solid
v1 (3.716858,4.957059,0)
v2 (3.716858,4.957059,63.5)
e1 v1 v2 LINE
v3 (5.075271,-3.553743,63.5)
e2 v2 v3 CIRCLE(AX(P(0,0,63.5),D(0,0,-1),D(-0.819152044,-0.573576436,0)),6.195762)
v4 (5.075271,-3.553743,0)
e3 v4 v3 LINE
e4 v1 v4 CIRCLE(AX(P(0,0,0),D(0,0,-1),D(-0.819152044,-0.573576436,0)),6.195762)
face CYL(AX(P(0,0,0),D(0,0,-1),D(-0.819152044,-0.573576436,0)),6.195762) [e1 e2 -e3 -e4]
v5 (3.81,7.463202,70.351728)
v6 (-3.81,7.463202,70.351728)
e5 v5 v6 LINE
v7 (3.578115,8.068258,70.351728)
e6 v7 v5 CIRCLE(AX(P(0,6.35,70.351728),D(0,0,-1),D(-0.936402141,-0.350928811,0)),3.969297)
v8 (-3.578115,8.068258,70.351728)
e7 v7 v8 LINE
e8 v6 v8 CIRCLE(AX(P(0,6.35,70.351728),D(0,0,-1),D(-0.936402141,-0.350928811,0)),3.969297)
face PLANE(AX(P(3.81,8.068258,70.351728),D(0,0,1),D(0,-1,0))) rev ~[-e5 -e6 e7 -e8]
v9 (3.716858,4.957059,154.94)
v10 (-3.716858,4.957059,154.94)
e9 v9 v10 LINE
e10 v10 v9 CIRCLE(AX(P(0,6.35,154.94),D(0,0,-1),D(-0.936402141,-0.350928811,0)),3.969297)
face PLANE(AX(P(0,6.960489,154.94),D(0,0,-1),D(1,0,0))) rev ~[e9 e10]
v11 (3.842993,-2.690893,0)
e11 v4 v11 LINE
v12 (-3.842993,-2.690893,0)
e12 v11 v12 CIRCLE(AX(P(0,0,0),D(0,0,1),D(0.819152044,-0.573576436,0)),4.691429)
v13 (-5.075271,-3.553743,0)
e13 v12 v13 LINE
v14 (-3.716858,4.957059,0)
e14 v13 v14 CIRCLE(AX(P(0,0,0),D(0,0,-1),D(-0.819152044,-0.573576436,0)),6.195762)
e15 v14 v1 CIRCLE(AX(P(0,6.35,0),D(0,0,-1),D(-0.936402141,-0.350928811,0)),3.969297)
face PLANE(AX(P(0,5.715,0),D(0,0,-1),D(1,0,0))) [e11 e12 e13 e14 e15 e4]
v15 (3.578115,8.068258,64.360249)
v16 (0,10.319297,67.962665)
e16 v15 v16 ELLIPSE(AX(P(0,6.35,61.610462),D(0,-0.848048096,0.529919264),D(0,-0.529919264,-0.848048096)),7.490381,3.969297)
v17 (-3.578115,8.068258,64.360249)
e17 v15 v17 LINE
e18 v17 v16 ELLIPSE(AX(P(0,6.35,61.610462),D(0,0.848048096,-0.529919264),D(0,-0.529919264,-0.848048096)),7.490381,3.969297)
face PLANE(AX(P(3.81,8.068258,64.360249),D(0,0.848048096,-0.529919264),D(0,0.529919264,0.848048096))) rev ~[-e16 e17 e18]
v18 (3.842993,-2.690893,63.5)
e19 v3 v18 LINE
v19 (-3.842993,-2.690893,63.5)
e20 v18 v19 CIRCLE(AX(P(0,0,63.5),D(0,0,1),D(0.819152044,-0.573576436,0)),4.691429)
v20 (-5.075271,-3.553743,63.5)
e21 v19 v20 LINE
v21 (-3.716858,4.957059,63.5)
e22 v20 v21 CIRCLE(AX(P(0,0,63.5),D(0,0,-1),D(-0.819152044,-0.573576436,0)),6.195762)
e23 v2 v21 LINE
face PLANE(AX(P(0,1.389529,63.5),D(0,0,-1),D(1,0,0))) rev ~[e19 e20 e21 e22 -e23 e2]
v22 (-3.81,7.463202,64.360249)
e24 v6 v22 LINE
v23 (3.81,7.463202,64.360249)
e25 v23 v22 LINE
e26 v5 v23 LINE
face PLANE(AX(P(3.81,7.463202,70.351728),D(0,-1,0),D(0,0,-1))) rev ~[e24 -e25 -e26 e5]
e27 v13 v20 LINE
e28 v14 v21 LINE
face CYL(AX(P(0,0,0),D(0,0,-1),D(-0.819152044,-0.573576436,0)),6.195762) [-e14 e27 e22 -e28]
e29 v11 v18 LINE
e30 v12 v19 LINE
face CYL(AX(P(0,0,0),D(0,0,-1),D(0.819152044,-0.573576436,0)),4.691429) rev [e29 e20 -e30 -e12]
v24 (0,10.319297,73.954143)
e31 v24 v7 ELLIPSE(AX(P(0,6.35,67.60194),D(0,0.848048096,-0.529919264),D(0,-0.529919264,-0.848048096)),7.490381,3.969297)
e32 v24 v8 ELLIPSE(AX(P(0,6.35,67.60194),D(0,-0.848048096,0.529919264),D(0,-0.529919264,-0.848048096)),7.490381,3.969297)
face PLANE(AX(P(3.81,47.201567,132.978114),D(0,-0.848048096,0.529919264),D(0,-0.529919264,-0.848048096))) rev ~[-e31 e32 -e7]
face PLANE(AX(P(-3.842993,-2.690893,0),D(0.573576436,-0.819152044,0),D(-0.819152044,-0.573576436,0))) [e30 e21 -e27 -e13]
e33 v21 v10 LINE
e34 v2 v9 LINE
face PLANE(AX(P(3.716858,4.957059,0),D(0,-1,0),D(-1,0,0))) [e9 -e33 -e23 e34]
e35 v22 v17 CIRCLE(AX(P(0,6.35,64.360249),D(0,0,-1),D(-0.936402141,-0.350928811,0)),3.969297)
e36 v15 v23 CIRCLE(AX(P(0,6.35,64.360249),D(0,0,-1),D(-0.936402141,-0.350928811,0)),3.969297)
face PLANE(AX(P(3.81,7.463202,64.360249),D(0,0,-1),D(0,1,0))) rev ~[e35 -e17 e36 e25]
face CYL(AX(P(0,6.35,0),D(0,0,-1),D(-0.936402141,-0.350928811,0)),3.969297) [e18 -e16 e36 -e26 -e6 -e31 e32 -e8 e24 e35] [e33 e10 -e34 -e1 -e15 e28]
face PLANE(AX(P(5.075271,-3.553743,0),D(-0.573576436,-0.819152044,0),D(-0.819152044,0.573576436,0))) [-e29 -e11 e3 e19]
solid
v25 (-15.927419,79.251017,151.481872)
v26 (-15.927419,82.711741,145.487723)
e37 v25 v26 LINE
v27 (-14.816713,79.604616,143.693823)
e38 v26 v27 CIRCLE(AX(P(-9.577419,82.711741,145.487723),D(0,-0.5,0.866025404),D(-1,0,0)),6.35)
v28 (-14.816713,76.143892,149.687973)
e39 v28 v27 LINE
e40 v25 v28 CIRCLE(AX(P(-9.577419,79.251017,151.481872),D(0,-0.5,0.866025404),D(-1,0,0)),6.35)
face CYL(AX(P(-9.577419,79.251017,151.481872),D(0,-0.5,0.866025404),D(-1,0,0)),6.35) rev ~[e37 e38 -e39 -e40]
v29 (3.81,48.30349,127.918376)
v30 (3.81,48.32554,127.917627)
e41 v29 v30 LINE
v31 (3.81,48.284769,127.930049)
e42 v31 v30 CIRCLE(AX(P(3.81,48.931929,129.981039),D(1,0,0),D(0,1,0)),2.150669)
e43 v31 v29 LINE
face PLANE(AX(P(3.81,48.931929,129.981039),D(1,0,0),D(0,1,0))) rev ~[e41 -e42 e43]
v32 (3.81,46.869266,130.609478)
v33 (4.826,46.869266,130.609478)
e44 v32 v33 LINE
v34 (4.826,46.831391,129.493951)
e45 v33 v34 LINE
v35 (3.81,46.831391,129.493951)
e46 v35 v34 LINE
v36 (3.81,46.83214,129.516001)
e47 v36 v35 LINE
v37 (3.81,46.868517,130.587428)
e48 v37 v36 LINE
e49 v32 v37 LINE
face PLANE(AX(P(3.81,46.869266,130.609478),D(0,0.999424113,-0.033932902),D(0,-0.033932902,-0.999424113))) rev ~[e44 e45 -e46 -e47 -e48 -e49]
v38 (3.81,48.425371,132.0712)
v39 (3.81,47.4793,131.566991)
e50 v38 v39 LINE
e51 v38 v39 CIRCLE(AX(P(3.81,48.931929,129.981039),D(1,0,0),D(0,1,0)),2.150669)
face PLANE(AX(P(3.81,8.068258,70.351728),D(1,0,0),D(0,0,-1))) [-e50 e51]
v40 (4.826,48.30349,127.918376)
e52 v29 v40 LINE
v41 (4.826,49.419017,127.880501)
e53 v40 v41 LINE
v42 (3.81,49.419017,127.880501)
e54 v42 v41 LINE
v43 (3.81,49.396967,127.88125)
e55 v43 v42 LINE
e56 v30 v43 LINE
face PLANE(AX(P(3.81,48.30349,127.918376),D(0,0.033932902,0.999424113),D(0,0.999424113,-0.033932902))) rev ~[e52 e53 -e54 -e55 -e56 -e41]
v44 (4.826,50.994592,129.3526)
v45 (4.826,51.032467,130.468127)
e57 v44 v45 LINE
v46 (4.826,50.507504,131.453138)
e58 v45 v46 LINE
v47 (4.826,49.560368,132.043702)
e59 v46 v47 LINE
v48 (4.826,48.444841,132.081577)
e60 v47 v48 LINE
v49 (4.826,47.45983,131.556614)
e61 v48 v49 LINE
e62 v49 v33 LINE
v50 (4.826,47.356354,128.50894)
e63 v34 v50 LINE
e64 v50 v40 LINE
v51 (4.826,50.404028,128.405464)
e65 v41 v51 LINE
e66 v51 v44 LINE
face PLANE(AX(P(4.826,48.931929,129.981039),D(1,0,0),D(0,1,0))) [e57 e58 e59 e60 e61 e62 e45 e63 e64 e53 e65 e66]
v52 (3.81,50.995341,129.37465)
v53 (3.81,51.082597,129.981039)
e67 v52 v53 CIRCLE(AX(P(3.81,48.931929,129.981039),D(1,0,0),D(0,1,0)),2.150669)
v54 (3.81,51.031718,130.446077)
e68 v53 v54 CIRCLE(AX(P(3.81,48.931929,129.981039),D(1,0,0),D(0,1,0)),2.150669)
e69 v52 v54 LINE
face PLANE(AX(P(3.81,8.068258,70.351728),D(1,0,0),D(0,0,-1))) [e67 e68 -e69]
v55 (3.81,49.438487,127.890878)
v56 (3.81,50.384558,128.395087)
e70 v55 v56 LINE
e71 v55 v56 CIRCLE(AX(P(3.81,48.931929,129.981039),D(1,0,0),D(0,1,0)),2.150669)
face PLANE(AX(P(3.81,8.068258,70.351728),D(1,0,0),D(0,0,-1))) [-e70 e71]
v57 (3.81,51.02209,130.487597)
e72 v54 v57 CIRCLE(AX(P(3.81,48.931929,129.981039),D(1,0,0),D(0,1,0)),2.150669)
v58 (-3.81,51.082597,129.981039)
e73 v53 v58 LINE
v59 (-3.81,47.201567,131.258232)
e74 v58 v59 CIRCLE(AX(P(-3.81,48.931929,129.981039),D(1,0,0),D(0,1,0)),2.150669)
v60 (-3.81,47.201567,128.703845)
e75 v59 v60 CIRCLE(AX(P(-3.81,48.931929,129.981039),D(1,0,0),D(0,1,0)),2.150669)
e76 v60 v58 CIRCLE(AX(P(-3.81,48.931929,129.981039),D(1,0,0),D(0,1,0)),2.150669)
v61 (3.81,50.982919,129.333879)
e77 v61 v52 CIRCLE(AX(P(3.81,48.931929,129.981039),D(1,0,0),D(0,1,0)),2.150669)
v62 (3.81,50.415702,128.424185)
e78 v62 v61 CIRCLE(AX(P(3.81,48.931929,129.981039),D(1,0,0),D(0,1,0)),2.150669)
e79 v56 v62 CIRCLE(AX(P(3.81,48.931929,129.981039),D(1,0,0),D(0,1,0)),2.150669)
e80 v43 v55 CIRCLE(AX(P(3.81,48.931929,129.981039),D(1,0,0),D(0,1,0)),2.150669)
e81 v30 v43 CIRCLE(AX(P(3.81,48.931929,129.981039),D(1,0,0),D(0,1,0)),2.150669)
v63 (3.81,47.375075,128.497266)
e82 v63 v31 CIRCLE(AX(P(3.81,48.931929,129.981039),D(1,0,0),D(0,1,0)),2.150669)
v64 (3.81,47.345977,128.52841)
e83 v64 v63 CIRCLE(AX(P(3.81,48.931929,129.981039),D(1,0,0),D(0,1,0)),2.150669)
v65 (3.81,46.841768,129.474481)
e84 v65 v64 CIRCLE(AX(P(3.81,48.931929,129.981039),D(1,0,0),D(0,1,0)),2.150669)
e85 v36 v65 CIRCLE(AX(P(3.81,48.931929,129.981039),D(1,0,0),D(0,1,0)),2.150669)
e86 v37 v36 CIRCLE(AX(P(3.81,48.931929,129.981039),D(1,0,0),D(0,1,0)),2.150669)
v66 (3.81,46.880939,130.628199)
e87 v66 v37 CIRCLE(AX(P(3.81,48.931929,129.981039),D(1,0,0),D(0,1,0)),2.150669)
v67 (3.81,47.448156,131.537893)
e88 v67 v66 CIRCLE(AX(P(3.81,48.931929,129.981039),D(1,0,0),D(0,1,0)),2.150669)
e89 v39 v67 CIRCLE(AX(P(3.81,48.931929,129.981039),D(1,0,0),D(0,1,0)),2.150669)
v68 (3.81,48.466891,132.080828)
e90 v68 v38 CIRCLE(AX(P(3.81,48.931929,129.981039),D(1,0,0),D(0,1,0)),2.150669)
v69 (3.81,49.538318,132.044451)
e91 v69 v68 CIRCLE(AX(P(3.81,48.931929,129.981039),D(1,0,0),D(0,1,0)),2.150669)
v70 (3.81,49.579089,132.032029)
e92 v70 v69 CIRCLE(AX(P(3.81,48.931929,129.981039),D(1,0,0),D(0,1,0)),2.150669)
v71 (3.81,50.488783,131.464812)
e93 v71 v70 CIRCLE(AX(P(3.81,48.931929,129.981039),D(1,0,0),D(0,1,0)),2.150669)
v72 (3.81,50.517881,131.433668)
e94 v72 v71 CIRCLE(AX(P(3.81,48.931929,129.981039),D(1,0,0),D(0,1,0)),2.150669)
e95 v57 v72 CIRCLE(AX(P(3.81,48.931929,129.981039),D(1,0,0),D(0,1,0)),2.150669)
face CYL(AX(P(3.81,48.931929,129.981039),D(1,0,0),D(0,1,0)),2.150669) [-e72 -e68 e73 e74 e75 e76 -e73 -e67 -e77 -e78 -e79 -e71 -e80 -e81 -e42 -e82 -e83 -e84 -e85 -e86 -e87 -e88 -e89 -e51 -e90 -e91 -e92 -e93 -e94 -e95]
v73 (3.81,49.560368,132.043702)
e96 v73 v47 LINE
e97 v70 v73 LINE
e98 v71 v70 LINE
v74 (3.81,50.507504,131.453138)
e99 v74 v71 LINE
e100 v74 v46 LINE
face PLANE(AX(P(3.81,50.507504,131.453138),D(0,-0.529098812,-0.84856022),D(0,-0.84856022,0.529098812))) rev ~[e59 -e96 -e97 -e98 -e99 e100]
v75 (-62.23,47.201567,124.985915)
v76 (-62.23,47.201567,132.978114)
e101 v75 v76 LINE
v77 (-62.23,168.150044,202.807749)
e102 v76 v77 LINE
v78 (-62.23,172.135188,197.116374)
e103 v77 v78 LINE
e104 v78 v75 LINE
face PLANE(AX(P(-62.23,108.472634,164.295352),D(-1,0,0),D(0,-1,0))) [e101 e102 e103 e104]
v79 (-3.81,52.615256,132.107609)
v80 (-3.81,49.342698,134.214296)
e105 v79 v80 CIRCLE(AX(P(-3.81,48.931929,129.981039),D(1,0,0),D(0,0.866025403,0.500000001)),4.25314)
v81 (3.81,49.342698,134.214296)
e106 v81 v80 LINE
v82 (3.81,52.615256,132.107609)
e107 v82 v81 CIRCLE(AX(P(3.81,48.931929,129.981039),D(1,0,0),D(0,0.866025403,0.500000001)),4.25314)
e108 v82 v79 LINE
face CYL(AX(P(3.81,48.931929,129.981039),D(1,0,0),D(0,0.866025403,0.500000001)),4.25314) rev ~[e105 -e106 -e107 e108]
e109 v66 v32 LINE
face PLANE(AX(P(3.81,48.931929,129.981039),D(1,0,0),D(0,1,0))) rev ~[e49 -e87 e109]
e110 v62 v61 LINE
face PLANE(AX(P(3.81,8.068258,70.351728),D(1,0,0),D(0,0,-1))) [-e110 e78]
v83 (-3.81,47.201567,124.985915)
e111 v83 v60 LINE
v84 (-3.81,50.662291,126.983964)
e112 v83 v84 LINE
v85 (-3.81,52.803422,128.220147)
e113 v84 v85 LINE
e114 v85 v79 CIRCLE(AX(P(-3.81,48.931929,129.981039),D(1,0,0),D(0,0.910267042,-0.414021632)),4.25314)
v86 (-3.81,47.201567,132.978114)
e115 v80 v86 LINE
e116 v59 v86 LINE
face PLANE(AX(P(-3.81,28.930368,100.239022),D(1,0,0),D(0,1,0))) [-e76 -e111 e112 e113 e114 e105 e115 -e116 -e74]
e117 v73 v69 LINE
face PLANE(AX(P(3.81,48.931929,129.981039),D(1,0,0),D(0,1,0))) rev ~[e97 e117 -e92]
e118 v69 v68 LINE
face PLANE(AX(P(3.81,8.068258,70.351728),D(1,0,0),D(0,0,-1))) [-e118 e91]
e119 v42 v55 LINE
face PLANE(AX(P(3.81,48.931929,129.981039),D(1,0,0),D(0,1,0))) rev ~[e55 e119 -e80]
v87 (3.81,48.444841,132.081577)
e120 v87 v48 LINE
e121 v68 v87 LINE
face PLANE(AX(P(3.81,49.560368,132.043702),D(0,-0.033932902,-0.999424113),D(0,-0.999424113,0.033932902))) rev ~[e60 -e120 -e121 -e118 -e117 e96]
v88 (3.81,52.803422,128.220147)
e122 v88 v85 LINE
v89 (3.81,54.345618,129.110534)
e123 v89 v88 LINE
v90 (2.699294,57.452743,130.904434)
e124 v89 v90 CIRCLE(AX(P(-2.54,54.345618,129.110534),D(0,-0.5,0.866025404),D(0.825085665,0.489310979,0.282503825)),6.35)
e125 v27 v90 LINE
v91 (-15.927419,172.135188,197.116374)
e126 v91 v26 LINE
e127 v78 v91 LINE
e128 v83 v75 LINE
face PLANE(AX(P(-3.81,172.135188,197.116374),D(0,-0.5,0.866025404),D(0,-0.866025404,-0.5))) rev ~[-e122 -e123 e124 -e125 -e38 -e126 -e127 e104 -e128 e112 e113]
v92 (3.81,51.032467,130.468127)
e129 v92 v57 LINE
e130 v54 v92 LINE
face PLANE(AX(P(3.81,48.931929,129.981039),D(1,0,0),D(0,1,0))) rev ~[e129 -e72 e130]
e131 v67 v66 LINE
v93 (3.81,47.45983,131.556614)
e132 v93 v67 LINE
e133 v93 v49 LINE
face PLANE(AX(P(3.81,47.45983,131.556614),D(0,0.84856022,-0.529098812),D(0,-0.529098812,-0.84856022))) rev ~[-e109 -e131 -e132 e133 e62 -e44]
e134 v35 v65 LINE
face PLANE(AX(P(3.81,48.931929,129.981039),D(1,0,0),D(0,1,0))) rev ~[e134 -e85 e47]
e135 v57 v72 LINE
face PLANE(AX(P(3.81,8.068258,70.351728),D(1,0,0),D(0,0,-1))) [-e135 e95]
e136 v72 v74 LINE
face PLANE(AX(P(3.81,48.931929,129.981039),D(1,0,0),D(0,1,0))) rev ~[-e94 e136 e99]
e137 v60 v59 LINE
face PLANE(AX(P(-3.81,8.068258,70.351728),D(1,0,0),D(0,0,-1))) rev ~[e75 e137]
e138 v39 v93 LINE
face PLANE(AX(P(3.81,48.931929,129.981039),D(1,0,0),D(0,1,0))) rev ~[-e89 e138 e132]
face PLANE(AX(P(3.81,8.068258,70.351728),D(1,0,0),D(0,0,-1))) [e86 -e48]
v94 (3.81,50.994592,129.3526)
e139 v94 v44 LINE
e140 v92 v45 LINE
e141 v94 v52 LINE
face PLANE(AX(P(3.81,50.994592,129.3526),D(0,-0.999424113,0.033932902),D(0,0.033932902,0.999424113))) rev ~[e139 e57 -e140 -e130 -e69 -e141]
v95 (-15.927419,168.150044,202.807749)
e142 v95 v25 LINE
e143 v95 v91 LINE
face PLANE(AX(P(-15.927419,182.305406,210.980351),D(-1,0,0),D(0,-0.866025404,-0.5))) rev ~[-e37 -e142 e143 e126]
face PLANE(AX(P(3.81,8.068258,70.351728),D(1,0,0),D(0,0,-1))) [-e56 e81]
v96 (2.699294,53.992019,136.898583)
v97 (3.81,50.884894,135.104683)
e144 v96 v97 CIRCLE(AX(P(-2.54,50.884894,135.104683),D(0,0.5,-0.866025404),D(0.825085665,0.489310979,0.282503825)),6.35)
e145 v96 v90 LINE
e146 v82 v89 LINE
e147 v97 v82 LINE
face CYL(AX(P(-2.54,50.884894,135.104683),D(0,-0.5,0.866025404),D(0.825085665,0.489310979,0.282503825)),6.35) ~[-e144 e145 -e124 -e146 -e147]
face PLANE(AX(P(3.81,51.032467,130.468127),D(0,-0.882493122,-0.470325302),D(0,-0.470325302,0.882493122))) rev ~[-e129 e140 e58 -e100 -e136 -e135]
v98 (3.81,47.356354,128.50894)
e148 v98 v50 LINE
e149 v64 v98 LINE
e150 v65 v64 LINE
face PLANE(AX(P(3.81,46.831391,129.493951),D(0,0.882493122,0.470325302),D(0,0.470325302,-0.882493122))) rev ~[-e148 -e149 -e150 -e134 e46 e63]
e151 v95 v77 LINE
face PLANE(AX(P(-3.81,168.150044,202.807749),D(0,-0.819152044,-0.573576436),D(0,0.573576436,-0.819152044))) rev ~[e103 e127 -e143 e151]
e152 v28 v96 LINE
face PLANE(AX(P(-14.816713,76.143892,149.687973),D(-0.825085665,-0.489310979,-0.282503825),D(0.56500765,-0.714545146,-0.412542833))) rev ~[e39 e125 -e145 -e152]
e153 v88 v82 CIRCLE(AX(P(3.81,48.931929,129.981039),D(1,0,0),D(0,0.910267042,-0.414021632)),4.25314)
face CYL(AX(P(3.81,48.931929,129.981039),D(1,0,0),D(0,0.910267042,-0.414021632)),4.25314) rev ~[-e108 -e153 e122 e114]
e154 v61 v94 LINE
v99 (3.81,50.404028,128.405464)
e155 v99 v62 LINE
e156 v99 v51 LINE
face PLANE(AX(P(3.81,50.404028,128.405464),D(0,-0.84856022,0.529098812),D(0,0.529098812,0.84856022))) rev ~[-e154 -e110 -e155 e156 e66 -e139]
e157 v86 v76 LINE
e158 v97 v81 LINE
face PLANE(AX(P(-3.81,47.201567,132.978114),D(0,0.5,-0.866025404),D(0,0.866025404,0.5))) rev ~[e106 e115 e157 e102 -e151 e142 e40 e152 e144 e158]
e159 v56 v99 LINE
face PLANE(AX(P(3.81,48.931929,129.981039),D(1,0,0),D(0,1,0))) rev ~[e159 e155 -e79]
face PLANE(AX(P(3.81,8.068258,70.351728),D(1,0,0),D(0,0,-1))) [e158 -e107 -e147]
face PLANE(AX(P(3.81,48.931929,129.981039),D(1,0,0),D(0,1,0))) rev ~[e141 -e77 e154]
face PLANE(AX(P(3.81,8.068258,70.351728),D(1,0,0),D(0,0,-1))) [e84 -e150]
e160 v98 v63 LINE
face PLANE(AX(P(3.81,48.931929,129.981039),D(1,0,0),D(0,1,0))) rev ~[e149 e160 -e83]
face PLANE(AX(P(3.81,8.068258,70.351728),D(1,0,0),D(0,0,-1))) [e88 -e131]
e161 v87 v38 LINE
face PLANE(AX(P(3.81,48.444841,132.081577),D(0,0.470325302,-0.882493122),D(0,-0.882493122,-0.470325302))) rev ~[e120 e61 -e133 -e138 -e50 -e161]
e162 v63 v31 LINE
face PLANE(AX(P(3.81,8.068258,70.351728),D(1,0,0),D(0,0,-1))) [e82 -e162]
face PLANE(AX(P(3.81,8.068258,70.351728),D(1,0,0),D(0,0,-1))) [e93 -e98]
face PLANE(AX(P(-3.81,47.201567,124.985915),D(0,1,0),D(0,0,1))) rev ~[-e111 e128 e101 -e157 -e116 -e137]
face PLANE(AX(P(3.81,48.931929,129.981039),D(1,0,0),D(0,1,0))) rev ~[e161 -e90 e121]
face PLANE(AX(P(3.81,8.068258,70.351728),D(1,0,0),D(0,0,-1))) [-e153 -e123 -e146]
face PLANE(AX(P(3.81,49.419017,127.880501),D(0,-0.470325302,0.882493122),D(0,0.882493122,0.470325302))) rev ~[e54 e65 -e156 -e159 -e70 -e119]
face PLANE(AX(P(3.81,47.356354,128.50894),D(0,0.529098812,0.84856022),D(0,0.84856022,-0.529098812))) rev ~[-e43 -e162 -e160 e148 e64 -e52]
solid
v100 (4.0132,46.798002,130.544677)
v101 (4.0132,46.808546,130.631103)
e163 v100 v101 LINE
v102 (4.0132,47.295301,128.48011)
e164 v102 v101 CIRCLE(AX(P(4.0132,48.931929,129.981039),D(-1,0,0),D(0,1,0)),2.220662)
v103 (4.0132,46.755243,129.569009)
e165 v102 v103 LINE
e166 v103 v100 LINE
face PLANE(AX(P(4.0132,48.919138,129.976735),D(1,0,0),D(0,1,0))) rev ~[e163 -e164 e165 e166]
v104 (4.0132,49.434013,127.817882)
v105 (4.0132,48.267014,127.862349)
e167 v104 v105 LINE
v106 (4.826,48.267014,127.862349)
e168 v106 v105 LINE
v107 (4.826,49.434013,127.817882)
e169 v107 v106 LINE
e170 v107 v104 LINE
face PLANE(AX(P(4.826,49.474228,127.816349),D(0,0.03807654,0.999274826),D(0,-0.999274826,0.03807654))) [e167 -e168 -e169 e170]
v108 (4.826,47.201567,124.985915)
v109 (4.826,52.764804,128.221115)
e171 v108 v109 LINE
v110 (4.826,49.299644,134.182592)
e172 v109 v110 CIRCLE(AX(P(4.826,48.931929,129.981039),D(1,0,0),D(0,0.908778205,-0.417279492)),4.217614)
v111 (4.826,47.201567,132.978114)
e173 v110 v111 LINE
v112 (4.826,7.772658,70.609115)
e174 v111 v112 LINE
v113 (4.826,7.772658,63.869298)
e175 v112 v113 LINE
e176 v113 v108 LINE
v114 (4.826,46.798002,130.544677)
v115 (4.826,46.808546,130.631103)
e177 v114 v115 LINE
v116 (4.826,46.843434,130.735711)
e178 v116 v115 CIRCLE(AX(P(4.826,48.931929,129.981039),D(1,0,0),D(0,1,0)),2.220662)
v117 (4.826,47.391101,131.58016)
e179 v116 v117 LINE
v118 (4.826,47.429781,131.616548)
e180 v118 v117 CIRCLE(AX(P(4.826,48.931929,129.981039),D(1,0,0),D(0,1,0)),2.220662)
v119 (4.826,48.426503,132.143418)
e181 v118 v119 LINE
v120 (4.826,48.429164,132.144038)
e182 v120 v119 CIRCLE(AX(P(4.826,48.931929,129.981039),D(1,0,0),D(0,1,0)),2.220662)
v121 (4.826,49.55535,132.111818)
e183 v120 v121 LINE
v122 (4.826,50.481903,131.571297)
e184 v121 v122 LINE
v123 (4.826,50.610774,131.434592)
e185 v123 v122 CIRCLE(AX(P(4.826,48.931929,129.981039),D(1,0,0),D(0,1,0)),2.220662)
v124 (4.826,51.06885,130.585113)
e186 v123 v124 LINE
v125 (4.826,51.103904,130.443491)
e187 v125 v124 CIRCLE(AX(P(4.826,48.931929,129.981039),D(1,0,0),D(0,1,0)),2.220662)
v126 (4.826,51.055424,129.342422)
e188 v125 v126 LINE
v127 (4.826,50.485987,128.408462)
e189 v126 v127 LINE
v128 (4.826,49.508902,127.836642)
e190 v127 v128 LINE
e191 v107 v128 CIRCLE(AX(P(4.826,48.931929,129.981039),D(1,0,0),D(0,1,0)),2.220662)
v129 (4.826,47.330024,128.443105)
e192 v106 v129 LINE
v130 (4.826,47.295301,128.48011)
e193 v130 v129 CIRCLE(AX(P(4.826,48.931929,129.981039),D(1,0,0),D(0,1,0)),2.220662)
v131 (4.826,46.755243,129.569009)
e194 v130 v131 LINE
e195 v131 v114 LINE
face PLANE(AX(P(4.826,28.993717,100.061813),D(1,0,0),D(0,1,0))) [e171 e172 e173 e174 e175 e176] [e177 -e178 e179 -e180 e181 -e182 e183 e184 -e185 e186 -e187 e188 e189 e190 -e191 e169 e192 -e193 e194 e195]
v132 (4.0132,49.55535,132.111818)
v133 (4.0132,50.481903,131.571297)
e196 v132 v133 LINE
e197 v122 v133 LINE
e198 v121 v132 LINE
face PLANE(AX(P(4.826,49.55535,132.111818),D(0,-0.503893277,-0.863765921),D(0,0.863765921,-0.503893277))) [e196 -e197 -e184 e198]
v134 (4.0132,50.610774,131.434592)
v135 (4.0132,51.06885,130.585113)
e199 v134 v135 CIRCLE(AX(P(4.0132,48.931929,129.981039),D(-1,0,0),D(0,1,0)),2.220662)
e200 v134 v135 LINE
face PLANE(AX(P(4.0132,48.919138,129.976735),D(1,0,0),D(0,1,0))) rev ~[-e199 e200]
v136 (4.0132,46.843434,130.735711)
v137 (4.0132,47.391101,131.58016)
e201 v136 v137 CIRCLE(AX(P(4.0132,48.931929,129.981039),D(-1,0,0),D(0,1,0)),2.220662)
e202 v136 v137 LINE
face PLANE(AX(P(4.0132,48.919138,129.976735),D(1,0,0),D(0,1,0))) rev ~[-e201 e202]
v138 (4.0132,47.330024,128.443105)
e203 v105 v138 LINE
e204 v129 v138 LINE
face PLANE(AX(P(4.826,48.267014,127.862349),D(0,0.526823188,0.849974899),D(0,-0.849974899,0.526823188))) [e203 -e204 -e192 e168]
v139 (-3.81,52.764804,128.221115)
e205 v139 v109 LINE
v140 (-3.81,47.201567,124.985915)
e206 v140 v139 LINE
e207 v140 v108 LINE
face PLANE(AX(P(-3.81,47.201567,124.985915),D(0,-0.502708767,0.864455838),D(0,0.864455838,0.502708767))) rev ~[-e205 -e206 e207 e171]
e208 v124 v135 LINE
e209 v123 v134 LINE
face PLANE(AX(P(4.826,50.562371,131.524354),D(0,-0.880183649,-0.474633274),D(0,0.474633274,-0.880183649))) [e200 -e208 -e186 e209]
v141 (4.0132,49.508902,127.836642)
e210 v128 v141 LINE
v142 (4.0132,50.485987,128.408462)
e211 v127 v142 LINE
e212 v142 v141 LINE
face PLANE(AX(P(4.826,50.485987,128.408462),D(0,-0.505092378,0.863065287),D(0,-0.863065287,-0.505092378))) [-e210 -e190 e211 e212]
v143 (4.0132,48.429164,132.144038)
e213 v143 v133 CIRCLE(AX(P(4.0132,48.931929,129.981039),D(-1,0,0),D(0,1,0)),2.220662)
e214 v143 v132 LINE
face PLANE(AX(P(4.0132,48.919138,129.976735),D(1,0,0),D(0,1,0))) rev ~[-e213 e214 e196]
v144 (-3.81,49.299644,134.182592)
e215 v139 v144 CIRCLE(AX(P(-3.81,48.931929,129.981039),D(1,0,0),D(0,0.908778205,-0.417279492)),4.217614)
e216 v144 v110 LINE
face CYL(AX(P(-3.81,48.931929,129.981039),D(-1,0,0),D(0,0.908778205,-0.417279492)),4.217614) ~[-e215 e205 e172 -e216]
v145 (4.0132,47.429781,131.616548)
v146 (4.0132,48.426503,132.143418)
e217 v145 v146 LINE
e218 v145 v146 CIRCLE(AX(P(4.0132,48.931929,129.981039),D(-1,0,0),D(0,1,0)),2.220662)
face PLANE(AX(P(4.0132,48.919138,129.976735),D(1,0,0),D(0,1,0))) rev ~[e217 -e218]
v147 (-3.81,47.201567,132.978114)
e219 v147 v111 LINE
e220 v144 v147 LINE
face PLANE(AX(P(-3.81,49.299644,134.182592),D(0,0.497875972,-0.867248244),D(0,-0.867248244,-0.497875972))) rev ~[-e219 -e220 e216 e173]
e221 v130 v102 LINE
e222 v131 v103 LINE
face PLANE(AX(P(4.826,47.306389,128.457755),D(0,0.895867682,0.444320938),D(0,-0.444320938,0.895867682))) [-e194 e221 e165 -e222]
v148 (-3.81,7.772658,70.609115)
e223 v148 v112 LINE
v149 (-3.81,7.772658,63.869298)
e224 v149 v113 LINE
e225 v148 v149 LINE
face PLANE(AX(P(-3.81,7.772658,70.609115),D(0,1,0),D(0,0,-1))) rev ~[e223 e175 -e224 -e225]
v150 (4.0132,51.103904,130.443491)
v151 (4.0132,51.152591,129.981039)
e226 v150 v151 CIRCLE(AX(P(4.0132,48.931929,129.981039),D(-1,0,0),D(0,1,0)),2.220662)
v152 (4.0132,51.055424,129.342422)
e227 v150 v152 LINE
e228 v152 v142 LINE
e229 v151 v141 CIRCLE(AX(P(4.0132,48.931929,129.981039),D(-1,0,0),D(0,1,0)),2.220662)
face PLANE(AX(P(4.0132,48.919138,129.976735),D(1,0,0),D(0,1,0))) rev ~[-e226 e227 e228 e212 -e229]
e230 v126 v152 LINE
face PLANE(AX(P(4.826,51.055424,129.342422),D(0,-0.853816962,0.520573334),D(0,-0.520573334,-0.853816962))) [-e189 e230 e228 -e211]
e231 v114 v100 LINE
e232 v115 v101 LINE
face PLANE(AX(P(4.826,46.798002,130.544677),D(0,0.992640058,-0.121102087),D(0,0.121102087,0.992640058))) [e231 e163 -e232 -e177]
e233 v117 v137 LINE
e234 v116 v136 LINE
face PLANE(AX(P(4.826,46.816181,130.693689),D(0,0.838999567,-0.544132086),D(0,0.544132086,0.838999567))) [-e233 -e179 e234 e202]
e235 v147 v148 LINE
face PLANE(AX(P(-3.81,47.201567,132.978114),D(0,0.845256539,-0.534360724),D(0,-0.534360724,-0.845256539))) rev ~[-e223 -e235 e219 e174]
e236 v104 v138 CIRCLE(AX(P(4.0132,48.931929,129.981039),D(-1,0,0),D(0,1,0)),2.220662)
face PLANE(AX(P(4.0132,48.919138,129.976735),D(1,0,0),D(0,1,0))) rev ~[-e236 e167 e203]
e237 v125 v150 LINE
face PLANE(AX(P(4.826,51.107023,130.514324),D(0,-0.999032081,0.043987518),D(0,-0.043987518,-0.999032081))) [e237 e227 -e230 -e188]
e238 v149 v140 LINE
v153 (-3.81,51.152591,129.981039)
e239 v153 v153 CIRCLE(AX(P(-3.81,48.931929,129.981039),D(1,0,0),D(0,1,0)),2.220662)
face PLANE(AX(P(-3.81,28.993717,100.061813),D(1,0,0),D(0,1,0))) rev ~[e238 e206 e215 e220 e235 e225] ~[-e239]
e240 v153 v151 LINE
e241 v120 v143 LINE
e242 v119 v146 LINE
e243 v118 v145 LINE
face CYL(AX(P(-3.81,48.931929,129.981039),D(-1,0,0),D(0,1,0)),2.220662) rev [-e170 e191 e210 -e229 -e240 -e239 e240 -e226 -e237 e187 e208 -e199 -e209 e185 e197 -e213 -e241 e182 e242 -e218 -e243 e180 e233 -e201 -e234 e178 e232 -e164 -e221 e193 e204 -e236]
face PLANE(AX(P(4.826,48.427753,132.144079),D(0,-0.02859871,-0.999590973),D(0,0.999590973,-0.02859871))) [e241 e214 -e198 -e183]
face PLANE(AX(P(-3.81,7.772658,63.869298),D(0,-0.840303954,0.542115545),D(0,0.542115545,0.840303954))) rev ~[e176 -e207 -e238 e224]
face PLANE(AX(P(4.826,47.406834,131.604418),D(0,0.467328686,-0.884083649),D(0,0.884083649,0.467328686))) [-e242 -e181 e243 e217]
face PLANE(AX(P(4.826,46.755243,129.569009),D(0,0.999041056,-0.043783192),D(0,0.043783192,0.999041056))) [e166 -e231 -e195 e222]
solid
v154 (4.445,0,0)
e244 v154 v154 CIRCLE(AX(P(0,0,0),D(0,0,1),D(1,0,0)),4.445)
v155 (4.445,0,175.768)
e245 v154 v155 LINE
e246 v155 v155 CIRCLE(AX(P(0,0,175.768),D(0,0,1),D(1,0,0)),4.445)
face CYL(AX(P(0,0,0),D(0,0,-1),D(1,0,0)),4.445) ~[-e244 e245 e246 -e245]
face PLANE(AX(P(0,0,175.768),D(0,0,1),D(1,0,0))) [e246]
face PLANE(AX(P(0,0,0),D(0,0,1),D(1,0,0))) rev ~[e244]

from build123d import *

# Parameters (mm, degrees)
F0_R      = 4.445
F1_DEPTH  = 175.768
F3_DEPTH  = 63.5
F4_W      = 6.35
F4_H      = 1.27
F5_DEPTH  = 64.008
F7_DEPTH  = 154.94
F9_DEPTH  = 3.81
F10_DEPTH = 1.778
F11_DEPTH = 7.62
F13_DEPTH = 58.42
F15_DEPTH = 25.4
F16_R     = 2.15066859
F17_DEPTH = 7.62
F19_DEPTH = 1.016
F20_R     = 2.2206616749
F21_DEPTH = 8.636
F23_R     = 2.6356791451
F24_DEPTH = 0.8128


with BuildPart() as f1:
    # F0 (on Top) → F1 (new body)
    with BuildSketch(Plane.XY):
        Circle(F0_R)
    extrude(amount=F1_DEPTH)


with BuildPart() as f3:
    # F2 (on face) → F3 (new body)
    with BuildSketch(Plane(origin=(0, 0, 0), x_dir=(1, 0, 0), z_dir=(0, 0, -1))):
        with BuildLine():
            ThreePointArc((3.8429933595, 2.6908929196), (0, -4.691428638), (-3.8429933595, 2.6908929196))
            Line((-3.8429933595, 2.6908929196), (-5.0752714678, 3.5537433402))
            ThreePointArc((-5.0752714678, 3.5537433402), (0, -6.1957624389), (5.0752714678, 3.5537433402))
            Line((5.0752714678, 3.5537433402), (3.8429933595, 2.6908929196))
        make_face()
    extrude(amount=-F3_DEPTH)

    # F4 (on face) → F5 (join)
    with BuildSketch(Plane(origin=(0, 0, 0), x_dir=(1, 0, 0), z_dir=(0, 0, -1))):
        with Locations((0, -5.715)):
            Rectangle(F4_W, F4_H)
    extrude(amount=-F5_DEPTH)

    # F6 (on face) → F7 (join)
    with BuildSketch(Plane(origin=(0, 0, 0), x_dir=(1, 0, 0), z_dir=(0, 0, -1))):
        with BuildLine():
            Line((3.7168582398, -4.9570593122), (-3.7168582398, -4.9570593122))
            ThreePointArc((-3.7168582398, -4.9570593122), (0, -10.3192970328), (3.7168582398, -4.9570593122))
        make_face()
    extrude(amount=-F7_DEPTH)

    # F8 (on Right) → F9 (join)
    with BuildSketch(Plane.YZ):
        Polygon((8.0682581894, 70.3517281412), (8.0682581894, 69.85), (11.4986350816, 69.85), (44.7982604746, 123.1405403205), (44.910294561, 123.6630477465), (46.7540288574, 132.2619027237), align=None)
        Polygon((11.4986350816, 69.85), (8.0682581894, 69.85), (8.0682581894, 64.3602494117), align=None)
        Polygon((44.910294561, 123.6630477465), (44.7982604746, 123.1405403205), (45.2457986568, 123.8567511265), align=None)
        Polygon((47.2015670395, 132.9781135297), (46.7540288574, 132.2619027237), (44.910294561, 123.6630477465), (45.2457986568, 123.8567511265), (172.1351875918, 197.1163739855), (168.1500438015, 202.8077491463), align=None)
    extrude(amount=-F9_DEPTH)

    # F10 (add): a face of the model
    f10_faces = [f3.faces().sort_by_distance(p)[0] for p in [
        (-3.6940575542, 8.0682581894, 67.3559887764),
    ]]
    extrude(f10_faces, amount=F10_DEPTH)

    # F11 (add): a face of the model
    f11_faces = [f3.faces().sort_by_distance(p)[0] for p in [
        (-3.81, 92.7369745299, 151.4872184487),
    ]]
    extrude(f11_faces, amount=-F11_DEPTH)

    # F12 (on face) → F13 (join)
    with BuildSketch(Plane(origin=(-3.81, 0, 0), x_dir=(0, -1, 0), z_dir=(-1, 0, 0))):
        Polygon((-47.2015670395, 124.9859145288), (-47.2015670395, 132.9781135297), (-168.1500438015, 202.8077491463), (-172.1351875918, 197.1163739855), align=None)
    extrude(amount=F13_DEPTH)

    # F14 (on face) → F15 (cut)
    with BuildSketch(Plane(origin=(0, -45.7808204722, 79.29470707), x_dir=(1, 0, 0), z_dir=(0, -0.5, 0.8660254038))):
        with BuildLine():
            Line((3.81, 111.6199528264), (3.81, 107.3668129195))
            Line((3.81, 107.3668129195), (9.2347897589, 107.3668129195))
            Line((9.2347897589, 107.3668129195), (9.2347897589, 263.3712887764))
            Line((9.2347897589, 263.3712887764), (-15.9274190664, 263.3712887764))
            Line((-15.9274190664, 263.3712887764), (-15.9274190664, 144.3743298364))
            ThreePointArc((-15.9274190664, 144.3743298364), (-15.6433904123, 142.496434304), (-14.816713041, 140.7865312569))
            Line((-14.816713041, 140.7865312569), (2.6992939746, 115.207751406))
            ThreePointArc((2.6992939746, 115.207751406), (3.5259713459, 113.4978483588), (3.81, 111.6199528264))
        make_face()
    extrude(amount=-F15_DEPTH, mode=Mode.SUBTRACT)

    # F16 (on face) → F17 (cut)
    with BuildSketch(Plane.YZ.offset(3.81)):
        with BuildLine():
            Line((45.2457986568, 123.8567511265), (50.662290723, 126.983964279))
            Line((50.662290723, 126.983964279), (52.8034219639, 128.2201469773))
            ThreePointArc((52.8034219639, 128.2201469773), (53.1800952343, 130.1866640606), (52.6152560846, 132.1076088611))
            ThreePointArc((52.6152560846, 132.1076088611), (51.2340886635, 133.5572463095), (49.3426982804, 134.214296228))
            Line((49.3426982804, 134.214296228), (47.2015670395, 132.9781135297))
            Line((47.2015670395, 132.9781135297), (8.0682581894, 70.3517281412))
            Line((8.0682581894, 70.3517281412), (7.4632021087, 70.3517281412))
            Line((7.4632021087, 70.3517281412), (7.4632021087, 64.3602494117))
            Line((7.4632021087, 64.3602494117), (8.0682581894, 64.3602494117))
            Line((8.0682581894, 64.3602494117), (45.2457986568, 123.8567511265))
        make_face()
        with Locations((48.9319288813, 129.9810389044)):
            Circle(F16_R, mode=Mode.SUBTRACT)
    extrude(amount=-F17_DEPTH, mode=Mode.SUBTRACT)

    # F18 (on face) → F19 (join)
    with BuildSketch(Plane.YZ.offset(3.81)):
        Polygon((47.3563535039, 128.5089395645), (48.3034902488, 127.9183757905), (49.4190166178, 127.8805009321), (50.4040282211, 128.405463527), (50.9945919952, 129.3526002719), (51.0324668536, 130.4681266409), (50.5075042587, 131.4531382442), (49.5603675137, 132.0437020183), (48.4448411448, 132.0815768767), (47.4598295414, 131.5566142817), (46.8692657674, 130.6094775368), (46.831390909, 129.4939511678), align=None)
    extrude(amount=F19_DEPTH)


with BuildPart() as f21:
    # F20 (on face) → F21 (new body)
    with BuildSketch(Plane.YZ.offset(-3.81)):
        with BuildLine():
            Line((7.7726580203, 63.8692975044), (47.2015670395, 124.9859145288))
            Line((47.2015670395, 124.9859145288), (52.7648042535, 128.2211152175))
            ThreePointArc((52.7648042535, 128.2211152175), (52.5783027117, 132.1005253732), (49.2996439256, 134.1825922658))
            Line((49.2996439256, 134.1825922658), (47.2015670395, 132.9781135297))
            Line((47.2015670395, 132.9781135297), (7.7726580203, 70.6091150641))
            Line((7.7726580203, 70.6091150641), (7.7726580203, 63.8692975044))
        make_face()
        with Locations((48.9319288813, 129.9810389044)):
            Circle(F20_R, mode=Mode.SUBTRACT)
    extrude(amount=F21_DEPTH)

    # F23 (on face) → F24 (join)
    with BuildSketch(Plane.YZ.offset(4.826)):
        with Locations((48.9191375673, 129.976734519)):
            Circle(F23_R)
        Polygon((46.7552430928, 129.5690089464), (46.7980019748, 130.5446773767), (46.8161813915, 130.6936889887), (47.4068336189, 131.6044181585), (48.4277531505, 132.1440786123), (49.555350095, 132.1118175983), (50.5623705685, 131.5243542194), (51.1070229113, 130.5143237114), (51.0554239154, 129.3424218893), (50.4859872162, 128.4084618092), (49.4742281735, 127.816349268), (48.2670143247, 127.8623491526), (47.3063886166, 128.4577548504), align=None, mode=Mode.SUBTRACT)
    extrude(amount=-F24_DEPTH)


solid = Compound([f1.part, f3.part, f21.part])
